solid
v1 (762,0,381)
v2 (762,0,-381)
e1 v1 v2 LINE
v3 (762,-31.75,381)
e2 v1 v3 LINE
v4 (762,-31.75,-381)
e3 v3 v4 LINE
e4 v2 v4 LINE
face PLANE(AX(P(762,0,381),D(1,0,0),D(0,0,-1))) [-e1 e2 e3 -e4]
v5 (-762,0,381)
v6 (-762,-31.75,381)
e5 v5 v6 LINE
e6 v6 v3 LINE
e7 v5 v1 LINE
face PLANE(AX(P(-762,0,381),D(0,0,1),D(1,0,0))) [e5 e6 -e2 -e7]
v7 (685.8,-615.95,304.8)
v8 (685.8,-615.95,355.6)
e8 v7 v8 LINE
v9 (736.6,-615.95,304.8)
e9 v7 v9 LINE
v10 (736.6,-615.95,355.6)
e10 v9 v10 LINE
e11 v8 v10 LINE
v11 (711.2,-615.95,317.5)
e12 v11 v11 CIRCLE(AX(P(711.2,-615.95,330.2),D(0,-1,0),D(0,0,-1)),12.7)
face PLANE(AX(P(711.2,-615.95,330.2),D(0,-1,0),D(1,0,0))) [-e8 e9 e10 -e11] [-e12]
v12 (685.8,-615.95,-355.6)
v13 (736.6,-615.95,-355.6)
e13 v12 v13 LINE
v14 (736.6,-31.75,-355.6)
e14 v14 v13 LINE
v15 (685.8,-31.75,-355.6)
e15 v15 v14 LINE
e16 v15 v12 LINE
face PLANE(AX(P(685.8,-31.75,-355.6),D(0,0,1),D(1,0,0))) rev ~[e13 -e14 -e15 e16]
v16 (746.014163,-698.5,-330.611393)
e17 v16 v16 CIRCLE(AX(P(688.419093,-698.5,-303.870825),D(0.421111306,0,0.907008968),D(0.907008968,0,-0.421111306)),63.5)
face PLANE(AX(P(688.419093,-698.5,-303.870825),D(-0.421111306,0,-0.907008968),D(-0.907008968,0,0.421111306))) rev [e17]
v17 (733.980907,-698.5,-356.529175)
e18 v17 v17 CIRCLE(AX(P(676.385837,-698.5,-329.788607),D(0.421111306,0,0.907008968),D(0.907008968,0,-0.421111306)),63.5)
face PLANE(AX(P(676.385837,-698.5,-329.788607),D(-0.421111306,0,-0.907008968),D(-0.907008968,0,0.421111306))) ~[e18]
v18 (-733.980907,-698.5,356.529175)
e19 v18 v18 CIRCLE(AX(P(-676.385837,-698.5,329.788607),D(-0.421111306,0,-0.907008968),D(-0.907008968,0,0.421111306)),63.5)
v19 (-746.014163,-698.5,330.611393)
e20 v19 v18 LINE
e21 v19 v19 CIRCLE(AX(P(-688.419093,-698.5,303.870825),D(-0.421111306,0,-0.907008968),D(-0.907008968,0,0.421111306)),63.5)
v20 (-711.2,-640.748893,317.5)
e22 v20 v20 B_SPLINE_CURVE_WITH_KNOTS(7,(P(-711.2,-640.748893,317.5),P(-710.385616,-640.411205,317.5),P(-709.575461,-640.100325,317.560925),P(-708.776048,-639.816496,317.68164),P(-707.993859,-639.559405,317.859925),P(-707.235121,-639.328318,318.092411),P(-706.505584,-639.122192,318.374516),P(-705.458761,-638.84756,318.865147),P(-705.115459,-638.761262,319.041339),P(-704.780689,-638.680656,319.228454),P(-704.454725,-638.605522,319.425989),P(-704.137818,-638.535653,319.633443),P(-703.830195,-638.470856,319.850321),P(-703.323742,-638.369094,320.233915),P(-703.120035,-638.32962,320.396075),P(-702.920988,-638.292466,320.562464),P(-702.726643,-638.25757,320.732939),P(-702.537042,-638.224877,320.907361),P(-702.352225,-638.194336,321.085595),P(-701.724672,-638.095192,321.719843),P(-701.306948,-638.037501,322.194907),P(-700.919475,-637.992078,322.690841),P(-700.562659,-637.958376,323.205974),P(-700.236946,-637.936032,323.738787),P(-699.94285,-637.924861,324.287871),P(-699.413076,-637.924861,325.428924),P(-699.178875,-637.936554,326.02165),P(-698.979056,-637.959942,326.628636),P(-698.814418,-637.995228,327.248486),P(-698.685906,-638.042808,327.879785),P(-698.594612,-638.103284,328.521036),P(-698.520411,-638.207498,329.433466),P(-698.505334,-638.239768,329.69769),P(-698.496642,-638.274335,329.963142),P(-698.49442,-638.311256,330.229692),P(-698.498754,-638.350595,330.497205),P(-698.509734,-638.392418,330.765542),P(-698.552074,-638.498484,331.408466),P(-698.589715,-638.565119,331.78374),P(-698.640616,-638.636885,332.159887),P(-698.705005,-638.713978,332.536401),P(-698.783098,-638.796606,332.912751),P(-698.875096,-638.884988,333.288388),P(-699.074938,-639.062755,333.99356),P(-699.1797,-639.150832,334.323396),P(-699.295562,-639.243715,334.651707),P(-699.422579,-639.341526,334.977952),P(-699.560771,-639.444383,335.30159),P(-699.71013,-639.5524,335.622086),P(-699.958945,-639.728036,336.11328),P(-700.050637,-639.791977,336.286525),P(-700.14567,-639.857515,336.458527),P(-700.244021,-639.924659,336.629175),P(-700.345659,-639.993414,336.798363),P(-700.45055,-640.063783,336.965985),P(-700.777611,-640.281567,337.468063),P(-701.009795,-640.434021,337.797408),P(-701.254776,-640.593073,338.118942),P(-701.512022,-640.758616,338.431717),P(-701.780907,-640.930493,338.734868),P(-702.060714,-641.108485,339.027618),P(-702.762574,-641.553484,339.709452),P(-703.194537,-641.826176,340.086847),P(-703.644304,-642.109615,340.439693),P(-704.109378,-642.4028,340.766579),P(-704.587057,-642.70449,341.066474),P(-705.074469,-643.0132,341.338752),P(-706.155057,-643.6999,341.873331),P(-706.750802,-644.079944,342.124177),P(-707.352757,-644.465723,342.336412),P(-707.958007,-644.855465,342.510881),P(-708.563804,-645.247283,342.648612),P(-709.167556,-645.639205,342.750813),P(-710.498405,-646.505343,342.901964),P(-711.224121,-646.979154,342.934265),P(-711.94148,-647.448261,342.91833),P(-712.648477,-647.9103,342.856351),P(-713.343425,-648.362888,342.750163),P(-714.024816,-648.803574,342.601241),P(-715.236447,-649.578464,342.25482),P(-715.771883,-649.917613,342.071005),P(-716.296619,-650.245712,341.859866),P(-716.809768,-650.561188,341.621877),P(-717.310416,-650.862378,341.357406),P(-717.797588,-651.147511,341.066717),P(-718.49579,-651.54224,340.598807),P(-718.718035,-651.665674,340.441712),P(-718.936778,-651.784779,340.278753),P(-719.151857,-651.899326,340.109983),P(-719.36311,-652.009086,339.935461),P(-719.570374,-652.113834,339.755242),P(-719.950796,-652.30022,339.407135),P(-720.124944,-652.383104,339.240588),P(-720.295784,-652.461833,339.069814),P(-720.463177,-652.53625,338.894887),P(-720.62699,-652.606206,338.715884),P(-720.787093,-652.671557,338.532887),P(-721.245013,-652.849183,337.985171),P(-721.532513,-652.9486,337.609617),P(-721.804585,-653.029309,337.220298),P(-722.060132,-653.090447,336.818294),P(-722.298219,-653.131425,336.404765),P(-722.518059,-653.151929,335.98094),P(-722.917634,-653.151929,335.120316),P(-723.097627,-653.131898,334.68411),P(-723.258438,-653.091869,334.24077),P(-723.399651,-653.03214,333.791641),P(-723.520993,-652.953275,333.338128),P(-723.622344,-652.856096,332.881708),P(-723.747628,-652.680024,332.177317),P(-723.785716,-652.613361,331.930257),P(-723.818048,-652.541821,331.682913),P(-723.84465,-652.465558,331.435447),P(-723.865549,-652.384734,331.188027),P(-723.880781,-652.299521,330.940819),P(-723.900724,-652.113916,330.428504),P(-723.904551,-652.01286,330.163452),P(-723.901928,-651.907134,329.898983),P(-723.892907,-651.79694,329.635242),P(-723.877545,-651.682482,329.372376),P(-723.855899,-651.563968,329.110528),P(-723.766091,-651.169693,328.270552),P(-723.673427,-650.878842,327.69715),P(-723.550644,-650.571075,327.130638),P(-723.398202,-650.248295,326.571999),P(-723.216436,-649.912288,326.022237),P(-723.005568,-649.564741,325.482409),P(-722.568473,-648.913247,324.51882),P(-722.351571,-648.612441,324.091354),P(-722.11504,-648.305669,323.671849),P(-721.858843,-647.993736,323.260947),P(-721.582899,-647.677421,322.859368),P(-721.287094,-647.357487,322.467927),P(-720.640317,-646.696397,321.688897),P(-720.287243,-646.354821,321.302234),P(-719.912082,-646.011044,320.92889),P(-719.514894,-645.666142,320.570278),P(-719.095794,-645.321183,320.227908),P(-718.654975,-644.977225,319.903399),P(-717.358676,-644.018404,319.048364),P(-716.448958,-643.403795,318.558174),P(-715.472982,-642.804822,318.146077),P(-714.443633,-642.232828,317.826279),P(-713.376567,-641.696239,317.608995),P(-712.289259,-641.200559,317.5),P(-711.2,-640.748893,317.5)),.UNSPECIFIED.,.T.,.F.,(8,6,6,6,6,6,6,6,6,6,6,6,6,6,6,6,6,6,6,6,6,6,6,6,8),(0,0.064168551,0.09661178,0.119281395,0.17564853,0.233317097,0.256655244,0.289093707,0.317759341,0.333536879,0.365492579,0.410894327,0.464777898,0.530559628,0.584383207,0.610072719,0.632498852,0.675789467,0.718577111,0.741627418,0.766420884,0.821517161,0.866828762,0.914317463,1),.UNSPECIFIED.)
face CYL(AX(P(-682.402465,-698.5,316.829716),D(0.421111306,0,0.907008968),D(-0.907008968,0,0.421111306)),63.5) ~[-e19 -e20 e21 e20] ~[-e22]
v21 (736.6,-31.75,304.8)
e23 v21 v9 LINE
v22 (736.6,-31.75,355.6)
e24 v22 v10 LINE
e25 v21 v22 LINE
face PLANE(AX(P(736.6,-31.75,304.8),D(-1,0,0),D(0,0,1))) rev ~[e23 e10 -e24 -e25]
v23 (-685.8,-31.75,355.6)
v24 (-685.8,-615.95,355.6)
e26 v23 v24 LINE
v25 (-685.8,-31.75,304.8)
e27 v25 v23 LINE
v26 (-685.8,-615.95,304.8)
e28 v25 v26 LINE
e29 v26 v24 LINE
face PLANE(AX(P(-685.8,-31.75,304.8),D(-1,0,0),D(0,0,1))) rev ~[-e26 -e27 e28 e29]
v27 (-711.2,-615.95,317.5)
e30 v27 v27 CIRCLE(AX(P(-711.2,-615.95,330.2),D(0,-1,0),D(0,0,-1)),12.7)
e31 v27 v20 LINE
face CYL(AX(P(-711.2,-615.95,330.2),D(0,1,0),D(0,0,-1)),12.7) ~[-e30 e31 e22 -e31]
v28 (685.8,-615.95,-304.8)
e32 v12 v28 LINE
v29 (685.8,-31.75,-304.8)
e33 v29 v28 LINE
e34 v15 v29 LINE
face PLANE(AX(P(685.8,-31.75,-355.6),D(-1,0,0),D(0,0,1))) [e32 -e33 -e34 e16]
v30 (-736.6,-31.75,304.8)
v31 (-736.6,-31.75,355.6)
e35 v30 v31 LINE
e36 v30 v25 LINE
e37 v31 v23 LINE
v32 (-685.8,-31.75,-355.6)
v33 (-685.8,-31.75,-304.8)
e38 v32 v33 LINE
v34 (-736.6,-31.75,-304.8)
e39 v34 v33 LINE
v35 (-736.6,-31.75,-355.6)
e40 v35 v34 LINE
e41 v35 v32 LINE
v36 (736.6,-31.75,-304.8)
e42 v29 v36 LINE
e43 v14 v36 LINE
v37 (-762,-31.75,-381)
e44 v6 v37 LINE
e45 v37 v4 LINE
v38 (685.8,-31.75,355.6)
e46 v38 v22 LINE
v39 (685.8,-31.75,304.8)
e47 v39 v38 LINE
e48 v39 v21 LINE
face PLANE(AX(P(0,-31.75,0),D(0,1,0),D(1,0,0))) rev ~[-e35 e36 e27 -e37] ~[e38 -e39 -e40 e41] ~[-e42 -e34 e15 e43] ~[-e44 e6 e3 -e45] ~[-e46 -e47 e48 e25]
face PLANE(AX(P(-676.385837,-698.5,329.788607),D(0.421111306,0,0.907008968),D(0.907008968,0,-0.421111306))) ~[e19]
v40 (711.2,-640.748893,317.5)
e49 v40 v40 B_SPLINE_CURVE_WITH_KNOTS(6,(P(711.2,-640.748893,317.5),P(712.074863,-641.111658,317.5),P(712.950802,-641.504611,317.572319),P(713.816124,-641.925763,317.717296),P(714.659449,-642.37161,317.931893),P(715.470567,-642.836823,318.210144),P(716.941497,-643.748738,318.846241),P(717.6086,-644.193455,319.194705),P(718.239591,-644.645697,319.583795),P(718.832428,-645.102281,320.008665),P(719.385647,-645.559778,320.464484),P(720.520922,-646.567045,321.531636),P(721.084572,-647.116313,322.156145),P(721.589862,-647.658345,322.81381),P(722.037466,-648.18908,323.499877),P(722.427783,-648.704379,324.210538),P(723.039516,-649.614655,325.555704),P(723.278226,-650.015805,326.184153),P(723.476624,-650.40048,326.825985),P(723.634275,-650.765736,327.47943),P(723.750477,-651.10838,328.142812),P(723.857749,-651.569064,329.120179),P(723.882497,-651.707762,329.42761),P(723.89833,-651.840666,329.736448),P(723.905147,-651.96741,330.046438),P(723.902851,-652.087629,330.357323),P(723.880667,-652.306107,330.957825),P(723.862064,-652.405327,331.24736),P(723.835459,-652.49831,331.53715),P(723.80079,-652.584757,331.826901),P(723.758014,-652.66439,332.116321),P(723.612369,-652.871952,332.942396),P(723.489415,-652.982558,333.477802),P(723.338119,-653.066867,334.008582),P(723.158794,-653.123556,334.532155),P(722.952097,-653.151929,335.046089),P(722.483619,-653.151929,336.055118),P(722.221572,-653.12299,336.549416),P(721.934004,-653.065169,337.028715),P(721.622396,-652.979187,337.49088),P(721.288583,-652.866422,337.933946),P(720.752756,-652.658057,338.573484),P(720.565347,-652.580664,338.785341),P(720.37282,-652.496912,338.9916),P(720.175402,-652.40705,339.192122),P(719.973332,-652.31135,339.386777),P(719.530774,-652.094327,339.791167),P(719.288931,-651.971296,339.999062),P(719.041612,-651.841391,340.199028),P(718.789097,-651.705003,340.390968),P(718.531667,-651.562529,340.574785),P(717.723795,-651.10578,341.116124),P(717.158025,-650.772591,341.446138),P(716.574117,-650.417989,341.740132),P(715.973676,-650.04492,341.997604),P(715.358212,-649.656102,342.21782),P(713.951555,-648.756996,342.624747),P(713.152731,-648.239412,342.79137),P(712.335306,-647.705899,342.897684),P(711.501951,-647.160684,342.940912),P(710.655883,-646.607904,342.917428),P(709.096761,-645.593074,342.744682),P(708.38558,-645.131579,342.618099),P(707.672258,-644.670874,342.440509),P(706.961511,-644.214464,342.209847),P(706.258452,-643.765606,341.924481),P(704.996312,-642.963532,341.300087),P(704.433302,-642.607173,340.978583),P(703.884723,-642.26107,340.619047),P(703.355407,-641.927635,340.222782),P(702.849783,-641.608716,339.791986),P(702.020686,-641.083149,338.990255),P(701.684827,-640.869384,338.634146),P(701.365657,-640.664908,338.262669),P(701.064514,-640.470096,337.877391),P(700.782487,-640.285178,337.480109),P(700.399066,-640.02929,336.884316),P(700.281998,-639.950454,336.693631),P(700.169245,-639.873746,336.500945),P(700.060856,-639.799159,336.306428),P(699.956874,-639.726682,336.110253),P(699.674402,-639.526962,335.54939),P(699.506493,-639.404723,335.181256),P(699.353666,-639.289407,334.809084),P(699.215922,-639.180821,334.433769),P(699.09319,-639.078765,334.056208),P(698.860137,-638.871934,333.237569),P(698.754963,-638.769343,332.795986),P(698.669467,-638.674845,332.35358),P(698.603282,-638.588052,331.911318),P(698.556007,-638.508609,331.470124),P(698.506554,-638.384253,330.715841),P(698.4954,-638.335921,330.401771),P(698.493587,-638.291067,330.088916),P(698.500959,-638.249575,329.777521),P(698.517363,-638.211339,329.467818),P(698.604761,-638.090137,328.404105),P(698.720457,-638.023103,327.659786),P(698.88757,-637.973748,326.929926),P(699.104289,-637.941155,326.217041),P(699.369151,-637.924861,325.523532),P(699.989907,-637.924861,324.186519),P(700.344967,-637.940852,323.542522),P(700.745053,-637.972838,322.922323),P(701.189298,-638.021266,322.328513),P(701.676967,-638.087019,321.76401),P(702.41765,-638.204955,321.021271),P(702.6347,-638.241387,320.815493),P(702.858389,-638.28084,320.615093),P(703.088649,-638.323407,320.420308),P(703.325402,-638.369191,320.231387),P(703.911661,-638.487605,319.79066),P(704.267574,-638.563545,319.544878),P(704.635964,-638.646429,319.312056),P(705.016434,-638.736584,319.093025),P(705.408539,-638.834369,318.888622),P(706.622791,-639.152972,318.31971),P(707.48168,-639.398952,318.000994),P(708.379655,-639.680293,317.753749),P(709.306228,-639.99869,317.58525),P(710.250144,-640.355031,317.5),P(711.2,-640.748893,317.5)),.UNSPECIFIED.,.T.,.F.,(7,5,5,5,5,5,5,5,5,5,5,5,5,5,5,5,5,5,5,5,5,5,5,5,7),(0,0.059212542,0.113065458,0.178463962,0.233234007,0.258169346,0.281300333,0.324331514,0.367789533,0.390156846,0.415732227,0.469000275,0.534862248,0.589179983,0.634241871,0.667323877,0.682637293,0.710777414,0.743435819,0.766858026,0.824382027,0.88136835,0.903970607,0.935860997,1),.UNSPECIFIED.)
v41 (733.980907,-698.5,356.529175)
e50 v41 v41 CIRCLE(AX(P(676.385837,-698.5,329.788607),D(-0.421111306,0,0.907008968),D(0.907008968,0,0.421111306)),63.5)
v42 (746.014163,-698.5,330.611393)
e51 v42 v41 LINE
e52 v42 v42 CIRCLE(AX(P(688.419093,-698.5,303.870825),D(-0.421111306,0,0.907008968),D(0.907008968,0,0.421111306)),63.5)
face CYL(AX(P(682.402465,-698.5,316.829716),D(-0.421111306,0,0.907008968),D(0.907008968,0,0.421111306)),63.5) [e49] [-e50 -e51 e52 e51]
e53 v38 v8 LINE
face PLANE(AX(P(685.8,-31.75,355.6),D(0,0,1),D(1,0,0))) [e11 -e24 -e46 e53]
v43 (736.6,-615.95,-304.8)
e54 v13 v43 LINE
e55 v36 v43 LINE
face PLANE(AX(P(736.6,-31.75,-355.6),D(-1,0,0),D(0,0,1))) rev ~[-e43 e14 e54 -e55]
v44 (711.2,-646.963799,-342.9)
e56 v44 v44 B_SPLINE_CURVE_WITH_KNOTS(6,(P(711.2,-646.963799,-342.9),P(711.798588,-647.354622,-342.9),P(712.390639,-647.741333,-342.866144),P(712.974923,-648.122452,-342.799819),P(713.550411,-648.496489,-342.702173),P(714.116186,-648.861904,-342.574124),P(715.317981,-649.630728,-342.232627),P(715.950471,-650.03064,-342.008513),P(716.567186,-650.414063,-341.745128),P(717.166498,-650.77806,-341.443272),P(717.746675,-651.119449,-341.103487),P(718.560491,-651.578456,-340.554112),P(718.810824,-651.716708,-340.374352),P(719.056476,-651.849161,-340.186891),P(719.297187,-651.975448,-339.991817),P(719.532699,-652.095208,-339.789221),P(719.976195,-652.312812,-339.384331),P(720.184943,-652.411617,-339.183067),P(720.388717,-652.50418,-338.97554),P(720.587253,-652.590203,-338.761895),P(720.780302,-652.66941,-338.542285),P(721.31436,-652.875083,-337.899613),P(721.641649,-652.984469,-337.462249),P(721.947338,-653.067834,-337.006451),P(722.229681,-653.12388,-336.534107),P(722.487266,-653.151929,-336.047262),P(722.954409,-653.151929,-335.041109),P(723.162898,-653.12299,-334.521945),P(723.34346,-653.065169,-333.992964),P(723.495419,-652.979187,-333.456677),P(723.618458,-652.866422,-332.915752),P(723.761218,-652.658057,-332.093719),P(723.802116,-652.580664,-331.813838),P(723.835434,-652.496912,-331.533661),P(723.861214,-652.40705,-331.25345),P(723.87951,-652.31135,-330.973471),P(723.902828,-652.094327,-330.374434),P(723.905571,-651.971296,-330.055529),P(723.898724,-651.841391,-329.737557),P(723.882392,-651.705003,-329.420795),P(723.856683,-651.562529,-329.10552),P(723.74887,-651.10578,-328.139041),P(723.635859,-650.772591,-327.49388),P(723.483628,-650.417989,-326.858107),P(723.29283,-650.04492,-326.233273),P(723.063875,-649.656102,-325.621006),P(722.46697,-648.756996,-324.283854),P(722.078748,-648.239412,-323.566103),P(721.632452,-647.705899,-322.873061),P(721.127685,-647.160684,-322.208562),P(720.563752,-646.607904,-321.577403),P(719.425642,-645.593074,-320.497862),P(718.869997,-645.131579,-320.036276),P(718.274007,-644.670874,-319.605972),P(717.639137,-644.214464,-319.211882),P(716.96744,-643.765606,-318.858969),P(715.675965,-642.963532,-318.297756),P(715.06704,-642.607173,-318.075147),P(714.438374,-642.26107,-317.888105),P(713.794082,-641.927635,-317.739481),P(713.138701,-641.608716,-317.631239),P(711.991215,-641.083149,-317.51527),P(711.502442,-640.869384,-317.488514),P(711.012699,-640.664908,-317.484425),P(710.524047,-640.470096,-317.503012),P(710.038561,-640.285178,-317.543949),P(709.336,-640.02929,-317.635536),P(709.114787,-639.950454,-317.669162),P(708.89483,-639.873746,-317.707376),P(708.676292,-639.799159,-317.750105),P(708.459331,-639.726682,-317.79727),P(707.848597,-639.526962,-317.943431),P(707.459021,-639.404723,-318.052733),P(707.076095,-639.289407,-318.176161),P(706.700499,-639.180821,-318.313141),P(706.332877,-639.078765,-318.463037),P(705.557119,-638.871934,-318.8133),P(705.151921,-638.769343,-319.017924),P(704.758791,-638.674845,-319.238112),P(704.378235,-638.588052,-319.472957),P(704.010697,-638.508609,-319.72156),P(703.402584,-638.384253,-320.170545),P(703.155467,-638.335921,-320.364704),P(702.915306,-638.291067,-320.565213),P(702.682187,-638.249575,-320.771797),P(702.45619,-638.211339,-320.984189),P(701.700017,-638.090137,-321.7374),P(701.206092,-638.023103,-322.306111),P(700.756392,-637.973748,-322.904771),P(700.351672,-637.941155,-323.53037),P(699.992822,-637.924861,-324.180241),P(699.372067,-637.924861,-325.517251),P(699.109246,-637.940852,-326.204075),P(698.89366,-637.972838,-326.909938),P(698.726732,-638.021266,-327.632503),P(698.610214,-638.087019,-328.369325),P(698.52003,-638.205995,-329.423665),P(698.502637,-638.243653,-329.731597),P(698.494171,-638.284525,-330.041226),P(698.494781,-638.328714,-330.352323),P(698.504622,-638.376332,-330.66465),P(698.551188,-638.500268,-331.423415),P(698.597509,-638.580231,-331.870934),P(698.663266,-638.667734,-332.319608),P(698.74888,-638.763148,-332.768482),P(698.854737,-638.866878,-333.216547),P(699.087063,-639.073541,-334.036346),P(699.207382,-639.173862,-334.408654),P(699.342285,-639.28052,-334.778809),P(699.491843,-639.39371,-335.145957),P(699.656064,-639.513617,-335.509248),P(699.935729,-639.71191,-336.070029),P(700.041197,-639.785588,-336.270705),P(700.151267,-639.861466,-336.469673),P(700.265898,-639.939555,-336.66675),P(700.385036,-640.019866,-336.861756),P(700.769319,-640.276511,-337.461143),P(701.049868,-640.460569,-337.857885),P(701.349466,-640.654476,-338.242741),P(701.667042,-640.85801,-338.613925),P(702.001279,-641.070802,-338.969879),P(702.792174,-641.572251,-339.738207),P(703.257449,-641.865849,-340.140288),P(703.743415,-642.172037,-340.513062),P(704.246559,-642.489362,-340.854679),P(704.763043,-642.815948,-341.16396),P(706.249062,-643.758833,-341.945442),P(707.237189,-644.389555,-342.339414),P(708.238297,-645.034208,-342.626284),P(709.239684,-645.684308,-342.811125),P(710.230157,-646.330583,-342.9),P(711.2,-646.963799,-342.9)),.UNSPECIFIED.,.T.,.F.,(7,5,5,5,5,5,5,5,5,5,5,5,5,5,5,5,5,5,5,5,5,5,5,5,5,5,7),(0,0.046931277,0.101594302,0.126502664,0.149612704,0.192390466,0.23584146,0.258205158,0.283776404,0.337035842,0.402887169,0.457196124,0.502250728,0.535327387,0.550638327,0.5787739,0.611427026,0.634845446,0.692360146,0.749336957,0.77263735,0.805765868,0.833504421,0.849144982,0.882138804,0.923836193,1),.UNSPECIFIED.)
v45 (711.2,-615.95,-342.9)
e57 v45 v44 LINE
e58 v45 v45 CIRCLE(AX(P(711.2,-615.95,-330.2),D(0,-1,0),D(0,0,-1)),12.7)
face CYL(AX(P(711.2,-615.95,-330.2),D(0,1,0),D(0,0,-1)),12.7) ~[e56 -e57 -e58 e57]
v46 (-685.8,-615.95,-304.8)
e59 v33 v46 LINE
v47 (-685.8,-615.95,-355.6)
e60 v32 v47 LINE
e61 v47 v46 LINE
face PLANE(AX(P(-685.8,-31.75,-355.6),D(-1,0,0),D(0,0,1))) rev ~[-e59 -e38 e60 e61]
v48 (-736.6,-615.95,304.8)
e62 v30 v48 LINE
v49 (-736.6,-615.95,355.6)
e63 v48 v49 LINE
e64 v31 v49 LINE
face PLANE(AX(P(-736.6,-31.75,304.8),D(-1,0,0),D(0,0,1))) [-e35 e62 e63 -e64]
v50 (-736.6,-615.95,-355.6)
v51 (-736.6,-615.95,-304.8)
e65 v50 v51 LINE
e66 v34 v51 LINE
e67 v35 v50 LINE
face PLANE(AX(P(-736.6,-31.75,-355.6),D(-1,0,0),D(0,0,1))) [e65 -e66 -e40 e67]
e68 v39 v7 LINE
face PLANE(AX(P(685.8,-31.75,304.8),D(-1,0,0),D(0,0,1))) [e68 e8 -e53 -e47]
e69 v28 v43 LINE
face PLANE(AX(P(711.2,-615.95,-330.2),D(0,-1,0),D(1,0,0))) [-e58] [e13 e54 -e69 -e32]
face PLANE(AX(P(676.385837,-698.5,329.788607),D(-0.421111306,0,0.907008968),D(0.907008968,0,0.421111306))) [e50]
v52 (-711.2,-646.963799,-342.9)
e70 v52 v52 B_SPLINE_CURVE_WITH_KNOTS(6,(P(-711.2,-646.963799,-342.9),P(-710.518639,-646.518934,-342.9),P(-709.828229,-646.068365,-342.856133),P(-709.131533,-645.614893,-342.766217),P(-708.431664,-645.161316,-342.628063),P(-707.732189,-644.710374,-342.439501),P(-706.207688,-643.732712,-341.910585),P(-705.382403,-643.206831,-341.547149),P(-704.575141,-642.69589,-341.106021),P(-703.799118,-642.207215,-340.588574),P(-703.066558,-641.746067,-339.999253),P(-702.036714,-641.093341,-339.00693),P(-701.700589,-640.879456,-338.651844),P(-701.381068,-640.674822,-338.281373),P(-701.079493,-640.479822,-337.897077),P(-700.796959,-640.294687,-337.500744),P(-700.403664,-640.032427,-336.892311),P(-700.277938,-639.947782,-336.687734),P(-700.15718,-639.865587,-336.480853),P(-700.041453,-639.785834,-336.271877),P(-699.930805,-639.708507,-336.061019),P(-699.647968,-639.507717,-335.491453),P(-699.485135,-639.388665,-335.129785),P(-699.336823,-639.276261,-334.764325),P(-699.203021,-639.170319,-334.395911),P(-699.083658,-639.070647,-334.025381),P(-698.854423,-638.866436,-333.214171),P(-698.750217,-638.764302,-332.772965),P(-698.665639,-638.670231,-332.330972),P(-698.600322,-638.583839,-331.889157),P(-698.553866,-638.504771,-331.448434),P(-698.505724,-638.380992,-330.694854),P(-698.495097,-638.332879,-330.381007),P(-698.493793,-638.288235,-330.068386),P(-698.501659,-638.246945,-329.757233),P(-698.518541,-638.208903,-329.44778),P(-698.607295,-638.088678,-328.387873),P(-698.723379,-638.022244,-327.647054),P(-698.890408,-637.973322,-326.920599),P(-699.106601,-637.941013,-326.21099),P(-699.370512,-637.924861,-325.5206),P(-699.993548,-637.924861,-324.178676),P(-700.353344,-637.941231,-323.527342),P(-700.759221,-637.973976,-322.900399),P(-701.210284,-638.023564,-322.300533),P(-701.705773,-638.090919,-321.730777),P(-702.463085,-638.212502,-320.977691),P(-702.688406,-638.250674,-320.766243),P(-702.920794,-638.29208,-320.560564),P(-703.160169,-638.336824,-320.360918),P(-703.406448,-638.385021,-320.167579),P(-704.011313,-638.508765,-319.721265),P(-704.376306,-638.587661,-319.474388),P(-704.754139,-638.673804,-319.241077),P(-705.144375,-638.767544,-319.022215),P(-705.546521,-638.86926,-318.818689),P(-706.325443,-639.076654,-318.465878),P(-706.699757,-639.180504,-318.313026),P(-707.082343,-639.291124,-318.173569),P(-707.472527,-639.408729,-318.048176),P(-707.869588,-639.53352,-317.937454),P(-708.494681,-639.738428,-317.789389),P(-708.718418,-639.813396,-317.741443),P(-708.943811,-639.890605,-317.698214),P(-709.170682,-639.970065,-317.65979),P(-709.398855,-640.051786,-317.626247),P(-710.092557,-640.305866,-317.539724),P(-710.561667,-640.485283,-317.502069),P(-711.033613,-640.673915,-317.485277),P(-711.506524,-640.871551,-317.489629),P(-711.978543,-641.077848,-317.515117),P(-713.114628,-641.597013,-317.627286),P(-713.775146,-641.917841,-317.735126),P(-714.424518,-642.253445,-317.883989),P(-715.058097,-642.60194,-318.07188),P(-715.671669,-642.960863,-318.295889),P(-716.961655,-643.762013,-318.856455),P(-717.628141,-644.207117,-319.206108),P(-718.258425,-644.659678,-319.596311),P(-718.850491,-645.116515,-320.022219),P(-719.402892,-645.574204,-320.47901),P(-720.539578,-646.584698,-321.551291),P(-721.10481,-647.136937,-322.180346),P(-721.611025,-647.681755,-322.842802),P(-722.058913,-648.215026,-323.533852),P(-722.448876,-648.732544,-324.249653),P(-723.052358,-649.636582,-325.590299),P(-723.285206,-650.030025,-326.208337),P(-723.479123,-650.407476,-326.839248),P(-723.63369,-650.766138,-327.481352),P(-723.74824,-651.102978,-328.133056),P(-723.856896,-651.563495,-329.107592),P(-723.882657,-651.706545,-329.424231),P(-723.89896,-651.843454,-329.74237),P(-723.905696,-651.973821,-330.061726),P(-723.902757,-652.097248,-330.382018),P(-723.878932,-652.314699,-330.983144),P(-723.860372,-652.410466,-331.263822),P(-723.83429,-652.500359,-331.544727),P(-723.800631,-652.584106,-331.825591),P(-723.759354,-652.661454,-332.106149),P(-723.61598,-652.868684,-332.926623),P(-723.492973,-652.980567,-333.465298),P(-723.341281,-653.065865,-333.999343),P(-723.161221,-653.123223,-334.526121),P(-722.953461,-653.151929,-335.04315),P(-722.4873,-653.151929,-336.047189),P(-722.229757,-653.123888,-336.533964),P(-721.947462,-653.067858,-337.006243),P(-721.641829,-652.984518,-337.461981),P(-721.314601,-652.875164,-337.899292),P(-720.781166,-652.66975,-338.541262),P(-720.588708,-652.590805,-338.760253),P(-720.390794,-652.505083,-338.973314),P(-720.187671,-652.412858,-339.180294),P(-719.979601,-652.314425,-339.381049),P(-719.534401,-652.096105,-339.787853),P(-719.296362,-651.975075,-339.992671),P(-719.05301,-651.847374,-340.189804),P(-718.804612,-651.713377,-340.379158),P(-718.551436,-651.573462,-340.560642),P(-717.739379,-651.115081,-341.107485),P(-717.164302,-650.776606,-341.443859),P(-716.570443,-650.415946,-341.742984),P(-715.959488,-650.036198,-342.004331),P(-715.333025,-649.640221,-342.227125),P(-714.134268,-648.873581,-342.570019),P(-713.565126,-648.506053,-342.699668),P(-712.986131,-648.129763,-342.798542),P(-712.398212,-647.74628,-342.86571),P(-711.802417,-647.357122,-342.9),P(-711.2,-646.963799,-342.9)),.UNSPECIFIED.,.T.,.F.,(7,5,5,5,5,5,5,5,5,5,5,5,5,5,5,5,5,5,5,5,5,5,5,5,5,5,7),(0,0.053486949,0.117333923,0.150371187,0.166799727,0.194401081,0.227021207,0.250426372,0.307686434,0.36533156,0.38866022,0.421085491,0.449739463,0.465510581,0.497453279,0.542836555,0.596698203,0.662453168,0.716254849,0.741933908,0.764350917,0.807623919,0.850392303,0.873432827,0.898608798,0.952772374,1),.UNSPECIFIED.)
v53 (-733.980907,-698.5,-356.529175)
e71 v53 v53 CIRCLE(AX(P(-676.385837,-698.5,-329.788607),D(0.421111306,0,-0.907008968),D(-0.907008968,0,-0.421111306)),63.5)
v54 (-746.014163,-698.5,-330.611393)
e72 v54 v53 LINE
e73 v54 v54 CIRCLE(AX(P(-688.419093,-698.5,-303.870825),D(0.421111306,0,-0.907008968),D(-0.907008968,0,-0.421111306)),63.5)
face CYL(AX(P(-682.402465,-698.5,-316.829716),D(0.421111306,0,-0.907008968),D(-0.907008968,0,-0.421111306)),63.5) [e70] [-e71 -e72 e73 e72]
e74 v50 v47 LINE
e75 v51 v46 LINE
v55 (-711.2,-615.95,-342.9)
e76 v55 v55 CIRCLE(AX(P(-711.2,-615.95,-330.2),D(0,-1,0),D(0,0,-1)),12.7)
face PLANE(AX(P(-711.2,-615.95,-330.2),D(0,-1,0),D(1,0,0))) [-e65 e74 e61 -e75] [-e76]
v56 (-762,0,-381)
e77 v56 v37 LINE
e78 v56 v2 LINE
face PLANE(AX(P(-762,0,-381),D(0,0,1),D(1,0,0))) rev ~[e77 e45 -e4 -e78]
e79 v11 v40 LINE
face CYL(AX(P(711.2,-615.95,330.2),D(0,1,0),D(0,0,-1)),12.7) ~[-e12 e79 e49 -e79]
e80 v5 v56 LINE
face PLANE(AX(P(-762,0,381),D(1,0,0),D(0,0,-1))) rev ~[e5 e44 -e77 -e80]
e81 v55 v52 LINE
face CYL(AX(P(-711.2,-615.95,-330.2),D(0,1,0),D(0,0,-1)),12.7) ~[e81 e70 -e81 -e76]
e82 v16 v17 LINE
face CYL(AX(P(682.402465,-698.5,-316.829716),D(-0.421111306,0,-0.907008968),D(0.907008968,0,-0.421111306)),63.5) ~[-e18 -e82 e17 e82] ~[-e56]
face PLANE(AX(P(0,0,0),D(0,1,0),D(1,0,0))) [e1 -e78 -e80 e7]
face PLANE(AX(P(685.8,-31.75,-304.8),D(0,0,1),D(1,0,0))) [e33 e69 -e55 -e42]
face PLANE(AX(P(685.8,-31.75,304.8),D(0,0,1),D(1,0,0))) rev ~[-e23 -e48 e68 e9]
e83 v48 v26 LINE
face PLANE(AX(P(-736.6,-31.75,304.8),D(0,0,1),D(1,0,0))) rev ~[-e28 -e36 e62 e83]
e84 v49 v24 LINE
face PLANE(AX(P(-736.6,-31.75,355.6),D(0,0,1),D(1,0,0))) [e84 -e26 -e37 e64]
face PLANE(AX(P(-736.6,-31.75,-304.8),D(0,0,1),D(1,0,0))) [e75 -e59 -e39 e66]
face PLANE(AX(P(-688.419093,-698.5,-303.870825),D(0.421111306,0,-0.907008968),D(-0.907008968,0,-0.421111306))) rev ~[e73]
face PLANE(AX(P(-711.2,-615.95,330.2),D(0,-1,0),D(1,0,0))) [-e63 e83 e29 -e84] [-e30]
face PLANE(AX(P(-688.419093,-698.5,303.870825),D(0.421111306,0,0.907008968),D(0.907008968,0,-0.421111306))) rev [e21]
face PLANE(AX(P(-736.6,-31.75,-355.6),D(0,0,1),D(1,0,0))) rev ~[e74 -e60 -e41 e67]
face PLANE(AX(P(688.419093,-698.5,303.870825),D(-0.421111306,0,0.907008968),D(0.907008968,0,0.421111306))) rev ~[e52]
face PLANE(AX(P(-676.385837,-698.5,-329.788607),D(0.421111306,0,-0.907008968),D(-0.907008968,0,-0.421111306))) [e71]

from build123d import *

# Parameters (mm, degrees)
SKETCH1_W               = 1524
SKETCH1_H               = 762
BOSS_EXTRUDE1_DEPTH     = 31.75
SKETCH2_W               = 50.8
SKETCH2_H               = 50.8
BOSS_EXTRUDE2_DEPTH     = 584.2
SKETCH3_R               = 12.7
BOSS_EXTRUDE3_DEPTH     = 101.6
SKETCH4_R               = 63.5
BOSS_EXTRUDE4_DEPTH     = 14.2875
MIRROR2_COPY_1_SKETCH_R = 63.5
MIRROR2_COPY_1_DEPTH    = 14.2875


with BuildPart() as part:
    # Sketch1 → Boss-Extrude1 (new body)
    with BuildSketch(Plane(origin=(0, 0, 0), x_dir=(1, 0, 0), z_dir=(0, 1, 0))):
        Rectangle(SKETCH1_W, SKETCH1_H)
    extrude(amount=-BOSS_EXTRUDE1_DEPTH)

    # Sketch2 → Boss-Extrude2 (add)
    with BuildSketch(Plane.XZ.offset(31.75)):
        with Locations((-711.2, 330.2)):
            Rectangle(SKETCH2_W, SKETCH2_H)
        with Locations((-711.2, -330.2)):
            Rectangle(SKETCH2_W, SKETCH2_H)
        with Locations((711.2, -330.2)):
            Rectangle(SKETCH2_W, SKETCH2_H)
        with Locations((711.2, 330.2)):
            Rectangle(SKETCH2_W, SKETCH2_H)
    extrude(amount=BOSS_EXTRUDE2_DEPTH)

    # Sketch3 → Boss-Extrude3 (add)
    with BuildSketch(Plane.XZ.offset(615.95)):
        with Locations((711.2, 330.2)):
            Circle(SKETCH3_R)
        with Locations((711.2, -330.2)):
            Circle(SKETCH3_R)
        with Locations((-711.2, -330.2)):
            Circle(SKETCH3_R)
        with Locations((-711.2, 330.2)):
            Circle(SKETCH3_R)
    extrude(amount=BOSS_EXTRUDE3_DEPTH)

    # Sketch4 → Boss-Extrude4 (add, symmetric)
    with BuildSketch(Plane(origin=(0, 0, 0), x_dir=(0.9070089677484316, 0, 0.42111130645462913), z_dir=(-0.4211113064546291, 0, 0.9070089677484315))):
        with Locations((752.365731254, -698.5)):
            Circle(SKETCH4_R)
    boss_extrude4 = extrude(amount=BOSS_EXTRUDE4_DEPTH, both=True)

    # Mirror1: Boss-Extrude4 across plane
    add(boss_extrude4.mirror(Plane.XY))

    # Mirror2: Boss-Extrude4 across plane
    add(boss_extrude4.mirror(Plane(origin=(0, 0, 0), x_dir=(0, 0, 1), z_dir=(1, 0, 0))))

    # Mirror2 copy 1 sketch → Mirror2 copy 1 (add, symmetric)
    with BuildSketch(Plane(origin=(0, 0, 0), x_dir=(-0.9070089677484316, 0, -0.42111130645462913), z_dir=(0.4211113064546291, 0, -0.9070089677484315))):
        with Locations((752.365731254, -698.5)):
            Circle(MIRROR2_COPY_1_SKETCH_R)
    extrude(amount=MIRROR2_COPY_1_DEPTH, both=True)


solid = part.part
